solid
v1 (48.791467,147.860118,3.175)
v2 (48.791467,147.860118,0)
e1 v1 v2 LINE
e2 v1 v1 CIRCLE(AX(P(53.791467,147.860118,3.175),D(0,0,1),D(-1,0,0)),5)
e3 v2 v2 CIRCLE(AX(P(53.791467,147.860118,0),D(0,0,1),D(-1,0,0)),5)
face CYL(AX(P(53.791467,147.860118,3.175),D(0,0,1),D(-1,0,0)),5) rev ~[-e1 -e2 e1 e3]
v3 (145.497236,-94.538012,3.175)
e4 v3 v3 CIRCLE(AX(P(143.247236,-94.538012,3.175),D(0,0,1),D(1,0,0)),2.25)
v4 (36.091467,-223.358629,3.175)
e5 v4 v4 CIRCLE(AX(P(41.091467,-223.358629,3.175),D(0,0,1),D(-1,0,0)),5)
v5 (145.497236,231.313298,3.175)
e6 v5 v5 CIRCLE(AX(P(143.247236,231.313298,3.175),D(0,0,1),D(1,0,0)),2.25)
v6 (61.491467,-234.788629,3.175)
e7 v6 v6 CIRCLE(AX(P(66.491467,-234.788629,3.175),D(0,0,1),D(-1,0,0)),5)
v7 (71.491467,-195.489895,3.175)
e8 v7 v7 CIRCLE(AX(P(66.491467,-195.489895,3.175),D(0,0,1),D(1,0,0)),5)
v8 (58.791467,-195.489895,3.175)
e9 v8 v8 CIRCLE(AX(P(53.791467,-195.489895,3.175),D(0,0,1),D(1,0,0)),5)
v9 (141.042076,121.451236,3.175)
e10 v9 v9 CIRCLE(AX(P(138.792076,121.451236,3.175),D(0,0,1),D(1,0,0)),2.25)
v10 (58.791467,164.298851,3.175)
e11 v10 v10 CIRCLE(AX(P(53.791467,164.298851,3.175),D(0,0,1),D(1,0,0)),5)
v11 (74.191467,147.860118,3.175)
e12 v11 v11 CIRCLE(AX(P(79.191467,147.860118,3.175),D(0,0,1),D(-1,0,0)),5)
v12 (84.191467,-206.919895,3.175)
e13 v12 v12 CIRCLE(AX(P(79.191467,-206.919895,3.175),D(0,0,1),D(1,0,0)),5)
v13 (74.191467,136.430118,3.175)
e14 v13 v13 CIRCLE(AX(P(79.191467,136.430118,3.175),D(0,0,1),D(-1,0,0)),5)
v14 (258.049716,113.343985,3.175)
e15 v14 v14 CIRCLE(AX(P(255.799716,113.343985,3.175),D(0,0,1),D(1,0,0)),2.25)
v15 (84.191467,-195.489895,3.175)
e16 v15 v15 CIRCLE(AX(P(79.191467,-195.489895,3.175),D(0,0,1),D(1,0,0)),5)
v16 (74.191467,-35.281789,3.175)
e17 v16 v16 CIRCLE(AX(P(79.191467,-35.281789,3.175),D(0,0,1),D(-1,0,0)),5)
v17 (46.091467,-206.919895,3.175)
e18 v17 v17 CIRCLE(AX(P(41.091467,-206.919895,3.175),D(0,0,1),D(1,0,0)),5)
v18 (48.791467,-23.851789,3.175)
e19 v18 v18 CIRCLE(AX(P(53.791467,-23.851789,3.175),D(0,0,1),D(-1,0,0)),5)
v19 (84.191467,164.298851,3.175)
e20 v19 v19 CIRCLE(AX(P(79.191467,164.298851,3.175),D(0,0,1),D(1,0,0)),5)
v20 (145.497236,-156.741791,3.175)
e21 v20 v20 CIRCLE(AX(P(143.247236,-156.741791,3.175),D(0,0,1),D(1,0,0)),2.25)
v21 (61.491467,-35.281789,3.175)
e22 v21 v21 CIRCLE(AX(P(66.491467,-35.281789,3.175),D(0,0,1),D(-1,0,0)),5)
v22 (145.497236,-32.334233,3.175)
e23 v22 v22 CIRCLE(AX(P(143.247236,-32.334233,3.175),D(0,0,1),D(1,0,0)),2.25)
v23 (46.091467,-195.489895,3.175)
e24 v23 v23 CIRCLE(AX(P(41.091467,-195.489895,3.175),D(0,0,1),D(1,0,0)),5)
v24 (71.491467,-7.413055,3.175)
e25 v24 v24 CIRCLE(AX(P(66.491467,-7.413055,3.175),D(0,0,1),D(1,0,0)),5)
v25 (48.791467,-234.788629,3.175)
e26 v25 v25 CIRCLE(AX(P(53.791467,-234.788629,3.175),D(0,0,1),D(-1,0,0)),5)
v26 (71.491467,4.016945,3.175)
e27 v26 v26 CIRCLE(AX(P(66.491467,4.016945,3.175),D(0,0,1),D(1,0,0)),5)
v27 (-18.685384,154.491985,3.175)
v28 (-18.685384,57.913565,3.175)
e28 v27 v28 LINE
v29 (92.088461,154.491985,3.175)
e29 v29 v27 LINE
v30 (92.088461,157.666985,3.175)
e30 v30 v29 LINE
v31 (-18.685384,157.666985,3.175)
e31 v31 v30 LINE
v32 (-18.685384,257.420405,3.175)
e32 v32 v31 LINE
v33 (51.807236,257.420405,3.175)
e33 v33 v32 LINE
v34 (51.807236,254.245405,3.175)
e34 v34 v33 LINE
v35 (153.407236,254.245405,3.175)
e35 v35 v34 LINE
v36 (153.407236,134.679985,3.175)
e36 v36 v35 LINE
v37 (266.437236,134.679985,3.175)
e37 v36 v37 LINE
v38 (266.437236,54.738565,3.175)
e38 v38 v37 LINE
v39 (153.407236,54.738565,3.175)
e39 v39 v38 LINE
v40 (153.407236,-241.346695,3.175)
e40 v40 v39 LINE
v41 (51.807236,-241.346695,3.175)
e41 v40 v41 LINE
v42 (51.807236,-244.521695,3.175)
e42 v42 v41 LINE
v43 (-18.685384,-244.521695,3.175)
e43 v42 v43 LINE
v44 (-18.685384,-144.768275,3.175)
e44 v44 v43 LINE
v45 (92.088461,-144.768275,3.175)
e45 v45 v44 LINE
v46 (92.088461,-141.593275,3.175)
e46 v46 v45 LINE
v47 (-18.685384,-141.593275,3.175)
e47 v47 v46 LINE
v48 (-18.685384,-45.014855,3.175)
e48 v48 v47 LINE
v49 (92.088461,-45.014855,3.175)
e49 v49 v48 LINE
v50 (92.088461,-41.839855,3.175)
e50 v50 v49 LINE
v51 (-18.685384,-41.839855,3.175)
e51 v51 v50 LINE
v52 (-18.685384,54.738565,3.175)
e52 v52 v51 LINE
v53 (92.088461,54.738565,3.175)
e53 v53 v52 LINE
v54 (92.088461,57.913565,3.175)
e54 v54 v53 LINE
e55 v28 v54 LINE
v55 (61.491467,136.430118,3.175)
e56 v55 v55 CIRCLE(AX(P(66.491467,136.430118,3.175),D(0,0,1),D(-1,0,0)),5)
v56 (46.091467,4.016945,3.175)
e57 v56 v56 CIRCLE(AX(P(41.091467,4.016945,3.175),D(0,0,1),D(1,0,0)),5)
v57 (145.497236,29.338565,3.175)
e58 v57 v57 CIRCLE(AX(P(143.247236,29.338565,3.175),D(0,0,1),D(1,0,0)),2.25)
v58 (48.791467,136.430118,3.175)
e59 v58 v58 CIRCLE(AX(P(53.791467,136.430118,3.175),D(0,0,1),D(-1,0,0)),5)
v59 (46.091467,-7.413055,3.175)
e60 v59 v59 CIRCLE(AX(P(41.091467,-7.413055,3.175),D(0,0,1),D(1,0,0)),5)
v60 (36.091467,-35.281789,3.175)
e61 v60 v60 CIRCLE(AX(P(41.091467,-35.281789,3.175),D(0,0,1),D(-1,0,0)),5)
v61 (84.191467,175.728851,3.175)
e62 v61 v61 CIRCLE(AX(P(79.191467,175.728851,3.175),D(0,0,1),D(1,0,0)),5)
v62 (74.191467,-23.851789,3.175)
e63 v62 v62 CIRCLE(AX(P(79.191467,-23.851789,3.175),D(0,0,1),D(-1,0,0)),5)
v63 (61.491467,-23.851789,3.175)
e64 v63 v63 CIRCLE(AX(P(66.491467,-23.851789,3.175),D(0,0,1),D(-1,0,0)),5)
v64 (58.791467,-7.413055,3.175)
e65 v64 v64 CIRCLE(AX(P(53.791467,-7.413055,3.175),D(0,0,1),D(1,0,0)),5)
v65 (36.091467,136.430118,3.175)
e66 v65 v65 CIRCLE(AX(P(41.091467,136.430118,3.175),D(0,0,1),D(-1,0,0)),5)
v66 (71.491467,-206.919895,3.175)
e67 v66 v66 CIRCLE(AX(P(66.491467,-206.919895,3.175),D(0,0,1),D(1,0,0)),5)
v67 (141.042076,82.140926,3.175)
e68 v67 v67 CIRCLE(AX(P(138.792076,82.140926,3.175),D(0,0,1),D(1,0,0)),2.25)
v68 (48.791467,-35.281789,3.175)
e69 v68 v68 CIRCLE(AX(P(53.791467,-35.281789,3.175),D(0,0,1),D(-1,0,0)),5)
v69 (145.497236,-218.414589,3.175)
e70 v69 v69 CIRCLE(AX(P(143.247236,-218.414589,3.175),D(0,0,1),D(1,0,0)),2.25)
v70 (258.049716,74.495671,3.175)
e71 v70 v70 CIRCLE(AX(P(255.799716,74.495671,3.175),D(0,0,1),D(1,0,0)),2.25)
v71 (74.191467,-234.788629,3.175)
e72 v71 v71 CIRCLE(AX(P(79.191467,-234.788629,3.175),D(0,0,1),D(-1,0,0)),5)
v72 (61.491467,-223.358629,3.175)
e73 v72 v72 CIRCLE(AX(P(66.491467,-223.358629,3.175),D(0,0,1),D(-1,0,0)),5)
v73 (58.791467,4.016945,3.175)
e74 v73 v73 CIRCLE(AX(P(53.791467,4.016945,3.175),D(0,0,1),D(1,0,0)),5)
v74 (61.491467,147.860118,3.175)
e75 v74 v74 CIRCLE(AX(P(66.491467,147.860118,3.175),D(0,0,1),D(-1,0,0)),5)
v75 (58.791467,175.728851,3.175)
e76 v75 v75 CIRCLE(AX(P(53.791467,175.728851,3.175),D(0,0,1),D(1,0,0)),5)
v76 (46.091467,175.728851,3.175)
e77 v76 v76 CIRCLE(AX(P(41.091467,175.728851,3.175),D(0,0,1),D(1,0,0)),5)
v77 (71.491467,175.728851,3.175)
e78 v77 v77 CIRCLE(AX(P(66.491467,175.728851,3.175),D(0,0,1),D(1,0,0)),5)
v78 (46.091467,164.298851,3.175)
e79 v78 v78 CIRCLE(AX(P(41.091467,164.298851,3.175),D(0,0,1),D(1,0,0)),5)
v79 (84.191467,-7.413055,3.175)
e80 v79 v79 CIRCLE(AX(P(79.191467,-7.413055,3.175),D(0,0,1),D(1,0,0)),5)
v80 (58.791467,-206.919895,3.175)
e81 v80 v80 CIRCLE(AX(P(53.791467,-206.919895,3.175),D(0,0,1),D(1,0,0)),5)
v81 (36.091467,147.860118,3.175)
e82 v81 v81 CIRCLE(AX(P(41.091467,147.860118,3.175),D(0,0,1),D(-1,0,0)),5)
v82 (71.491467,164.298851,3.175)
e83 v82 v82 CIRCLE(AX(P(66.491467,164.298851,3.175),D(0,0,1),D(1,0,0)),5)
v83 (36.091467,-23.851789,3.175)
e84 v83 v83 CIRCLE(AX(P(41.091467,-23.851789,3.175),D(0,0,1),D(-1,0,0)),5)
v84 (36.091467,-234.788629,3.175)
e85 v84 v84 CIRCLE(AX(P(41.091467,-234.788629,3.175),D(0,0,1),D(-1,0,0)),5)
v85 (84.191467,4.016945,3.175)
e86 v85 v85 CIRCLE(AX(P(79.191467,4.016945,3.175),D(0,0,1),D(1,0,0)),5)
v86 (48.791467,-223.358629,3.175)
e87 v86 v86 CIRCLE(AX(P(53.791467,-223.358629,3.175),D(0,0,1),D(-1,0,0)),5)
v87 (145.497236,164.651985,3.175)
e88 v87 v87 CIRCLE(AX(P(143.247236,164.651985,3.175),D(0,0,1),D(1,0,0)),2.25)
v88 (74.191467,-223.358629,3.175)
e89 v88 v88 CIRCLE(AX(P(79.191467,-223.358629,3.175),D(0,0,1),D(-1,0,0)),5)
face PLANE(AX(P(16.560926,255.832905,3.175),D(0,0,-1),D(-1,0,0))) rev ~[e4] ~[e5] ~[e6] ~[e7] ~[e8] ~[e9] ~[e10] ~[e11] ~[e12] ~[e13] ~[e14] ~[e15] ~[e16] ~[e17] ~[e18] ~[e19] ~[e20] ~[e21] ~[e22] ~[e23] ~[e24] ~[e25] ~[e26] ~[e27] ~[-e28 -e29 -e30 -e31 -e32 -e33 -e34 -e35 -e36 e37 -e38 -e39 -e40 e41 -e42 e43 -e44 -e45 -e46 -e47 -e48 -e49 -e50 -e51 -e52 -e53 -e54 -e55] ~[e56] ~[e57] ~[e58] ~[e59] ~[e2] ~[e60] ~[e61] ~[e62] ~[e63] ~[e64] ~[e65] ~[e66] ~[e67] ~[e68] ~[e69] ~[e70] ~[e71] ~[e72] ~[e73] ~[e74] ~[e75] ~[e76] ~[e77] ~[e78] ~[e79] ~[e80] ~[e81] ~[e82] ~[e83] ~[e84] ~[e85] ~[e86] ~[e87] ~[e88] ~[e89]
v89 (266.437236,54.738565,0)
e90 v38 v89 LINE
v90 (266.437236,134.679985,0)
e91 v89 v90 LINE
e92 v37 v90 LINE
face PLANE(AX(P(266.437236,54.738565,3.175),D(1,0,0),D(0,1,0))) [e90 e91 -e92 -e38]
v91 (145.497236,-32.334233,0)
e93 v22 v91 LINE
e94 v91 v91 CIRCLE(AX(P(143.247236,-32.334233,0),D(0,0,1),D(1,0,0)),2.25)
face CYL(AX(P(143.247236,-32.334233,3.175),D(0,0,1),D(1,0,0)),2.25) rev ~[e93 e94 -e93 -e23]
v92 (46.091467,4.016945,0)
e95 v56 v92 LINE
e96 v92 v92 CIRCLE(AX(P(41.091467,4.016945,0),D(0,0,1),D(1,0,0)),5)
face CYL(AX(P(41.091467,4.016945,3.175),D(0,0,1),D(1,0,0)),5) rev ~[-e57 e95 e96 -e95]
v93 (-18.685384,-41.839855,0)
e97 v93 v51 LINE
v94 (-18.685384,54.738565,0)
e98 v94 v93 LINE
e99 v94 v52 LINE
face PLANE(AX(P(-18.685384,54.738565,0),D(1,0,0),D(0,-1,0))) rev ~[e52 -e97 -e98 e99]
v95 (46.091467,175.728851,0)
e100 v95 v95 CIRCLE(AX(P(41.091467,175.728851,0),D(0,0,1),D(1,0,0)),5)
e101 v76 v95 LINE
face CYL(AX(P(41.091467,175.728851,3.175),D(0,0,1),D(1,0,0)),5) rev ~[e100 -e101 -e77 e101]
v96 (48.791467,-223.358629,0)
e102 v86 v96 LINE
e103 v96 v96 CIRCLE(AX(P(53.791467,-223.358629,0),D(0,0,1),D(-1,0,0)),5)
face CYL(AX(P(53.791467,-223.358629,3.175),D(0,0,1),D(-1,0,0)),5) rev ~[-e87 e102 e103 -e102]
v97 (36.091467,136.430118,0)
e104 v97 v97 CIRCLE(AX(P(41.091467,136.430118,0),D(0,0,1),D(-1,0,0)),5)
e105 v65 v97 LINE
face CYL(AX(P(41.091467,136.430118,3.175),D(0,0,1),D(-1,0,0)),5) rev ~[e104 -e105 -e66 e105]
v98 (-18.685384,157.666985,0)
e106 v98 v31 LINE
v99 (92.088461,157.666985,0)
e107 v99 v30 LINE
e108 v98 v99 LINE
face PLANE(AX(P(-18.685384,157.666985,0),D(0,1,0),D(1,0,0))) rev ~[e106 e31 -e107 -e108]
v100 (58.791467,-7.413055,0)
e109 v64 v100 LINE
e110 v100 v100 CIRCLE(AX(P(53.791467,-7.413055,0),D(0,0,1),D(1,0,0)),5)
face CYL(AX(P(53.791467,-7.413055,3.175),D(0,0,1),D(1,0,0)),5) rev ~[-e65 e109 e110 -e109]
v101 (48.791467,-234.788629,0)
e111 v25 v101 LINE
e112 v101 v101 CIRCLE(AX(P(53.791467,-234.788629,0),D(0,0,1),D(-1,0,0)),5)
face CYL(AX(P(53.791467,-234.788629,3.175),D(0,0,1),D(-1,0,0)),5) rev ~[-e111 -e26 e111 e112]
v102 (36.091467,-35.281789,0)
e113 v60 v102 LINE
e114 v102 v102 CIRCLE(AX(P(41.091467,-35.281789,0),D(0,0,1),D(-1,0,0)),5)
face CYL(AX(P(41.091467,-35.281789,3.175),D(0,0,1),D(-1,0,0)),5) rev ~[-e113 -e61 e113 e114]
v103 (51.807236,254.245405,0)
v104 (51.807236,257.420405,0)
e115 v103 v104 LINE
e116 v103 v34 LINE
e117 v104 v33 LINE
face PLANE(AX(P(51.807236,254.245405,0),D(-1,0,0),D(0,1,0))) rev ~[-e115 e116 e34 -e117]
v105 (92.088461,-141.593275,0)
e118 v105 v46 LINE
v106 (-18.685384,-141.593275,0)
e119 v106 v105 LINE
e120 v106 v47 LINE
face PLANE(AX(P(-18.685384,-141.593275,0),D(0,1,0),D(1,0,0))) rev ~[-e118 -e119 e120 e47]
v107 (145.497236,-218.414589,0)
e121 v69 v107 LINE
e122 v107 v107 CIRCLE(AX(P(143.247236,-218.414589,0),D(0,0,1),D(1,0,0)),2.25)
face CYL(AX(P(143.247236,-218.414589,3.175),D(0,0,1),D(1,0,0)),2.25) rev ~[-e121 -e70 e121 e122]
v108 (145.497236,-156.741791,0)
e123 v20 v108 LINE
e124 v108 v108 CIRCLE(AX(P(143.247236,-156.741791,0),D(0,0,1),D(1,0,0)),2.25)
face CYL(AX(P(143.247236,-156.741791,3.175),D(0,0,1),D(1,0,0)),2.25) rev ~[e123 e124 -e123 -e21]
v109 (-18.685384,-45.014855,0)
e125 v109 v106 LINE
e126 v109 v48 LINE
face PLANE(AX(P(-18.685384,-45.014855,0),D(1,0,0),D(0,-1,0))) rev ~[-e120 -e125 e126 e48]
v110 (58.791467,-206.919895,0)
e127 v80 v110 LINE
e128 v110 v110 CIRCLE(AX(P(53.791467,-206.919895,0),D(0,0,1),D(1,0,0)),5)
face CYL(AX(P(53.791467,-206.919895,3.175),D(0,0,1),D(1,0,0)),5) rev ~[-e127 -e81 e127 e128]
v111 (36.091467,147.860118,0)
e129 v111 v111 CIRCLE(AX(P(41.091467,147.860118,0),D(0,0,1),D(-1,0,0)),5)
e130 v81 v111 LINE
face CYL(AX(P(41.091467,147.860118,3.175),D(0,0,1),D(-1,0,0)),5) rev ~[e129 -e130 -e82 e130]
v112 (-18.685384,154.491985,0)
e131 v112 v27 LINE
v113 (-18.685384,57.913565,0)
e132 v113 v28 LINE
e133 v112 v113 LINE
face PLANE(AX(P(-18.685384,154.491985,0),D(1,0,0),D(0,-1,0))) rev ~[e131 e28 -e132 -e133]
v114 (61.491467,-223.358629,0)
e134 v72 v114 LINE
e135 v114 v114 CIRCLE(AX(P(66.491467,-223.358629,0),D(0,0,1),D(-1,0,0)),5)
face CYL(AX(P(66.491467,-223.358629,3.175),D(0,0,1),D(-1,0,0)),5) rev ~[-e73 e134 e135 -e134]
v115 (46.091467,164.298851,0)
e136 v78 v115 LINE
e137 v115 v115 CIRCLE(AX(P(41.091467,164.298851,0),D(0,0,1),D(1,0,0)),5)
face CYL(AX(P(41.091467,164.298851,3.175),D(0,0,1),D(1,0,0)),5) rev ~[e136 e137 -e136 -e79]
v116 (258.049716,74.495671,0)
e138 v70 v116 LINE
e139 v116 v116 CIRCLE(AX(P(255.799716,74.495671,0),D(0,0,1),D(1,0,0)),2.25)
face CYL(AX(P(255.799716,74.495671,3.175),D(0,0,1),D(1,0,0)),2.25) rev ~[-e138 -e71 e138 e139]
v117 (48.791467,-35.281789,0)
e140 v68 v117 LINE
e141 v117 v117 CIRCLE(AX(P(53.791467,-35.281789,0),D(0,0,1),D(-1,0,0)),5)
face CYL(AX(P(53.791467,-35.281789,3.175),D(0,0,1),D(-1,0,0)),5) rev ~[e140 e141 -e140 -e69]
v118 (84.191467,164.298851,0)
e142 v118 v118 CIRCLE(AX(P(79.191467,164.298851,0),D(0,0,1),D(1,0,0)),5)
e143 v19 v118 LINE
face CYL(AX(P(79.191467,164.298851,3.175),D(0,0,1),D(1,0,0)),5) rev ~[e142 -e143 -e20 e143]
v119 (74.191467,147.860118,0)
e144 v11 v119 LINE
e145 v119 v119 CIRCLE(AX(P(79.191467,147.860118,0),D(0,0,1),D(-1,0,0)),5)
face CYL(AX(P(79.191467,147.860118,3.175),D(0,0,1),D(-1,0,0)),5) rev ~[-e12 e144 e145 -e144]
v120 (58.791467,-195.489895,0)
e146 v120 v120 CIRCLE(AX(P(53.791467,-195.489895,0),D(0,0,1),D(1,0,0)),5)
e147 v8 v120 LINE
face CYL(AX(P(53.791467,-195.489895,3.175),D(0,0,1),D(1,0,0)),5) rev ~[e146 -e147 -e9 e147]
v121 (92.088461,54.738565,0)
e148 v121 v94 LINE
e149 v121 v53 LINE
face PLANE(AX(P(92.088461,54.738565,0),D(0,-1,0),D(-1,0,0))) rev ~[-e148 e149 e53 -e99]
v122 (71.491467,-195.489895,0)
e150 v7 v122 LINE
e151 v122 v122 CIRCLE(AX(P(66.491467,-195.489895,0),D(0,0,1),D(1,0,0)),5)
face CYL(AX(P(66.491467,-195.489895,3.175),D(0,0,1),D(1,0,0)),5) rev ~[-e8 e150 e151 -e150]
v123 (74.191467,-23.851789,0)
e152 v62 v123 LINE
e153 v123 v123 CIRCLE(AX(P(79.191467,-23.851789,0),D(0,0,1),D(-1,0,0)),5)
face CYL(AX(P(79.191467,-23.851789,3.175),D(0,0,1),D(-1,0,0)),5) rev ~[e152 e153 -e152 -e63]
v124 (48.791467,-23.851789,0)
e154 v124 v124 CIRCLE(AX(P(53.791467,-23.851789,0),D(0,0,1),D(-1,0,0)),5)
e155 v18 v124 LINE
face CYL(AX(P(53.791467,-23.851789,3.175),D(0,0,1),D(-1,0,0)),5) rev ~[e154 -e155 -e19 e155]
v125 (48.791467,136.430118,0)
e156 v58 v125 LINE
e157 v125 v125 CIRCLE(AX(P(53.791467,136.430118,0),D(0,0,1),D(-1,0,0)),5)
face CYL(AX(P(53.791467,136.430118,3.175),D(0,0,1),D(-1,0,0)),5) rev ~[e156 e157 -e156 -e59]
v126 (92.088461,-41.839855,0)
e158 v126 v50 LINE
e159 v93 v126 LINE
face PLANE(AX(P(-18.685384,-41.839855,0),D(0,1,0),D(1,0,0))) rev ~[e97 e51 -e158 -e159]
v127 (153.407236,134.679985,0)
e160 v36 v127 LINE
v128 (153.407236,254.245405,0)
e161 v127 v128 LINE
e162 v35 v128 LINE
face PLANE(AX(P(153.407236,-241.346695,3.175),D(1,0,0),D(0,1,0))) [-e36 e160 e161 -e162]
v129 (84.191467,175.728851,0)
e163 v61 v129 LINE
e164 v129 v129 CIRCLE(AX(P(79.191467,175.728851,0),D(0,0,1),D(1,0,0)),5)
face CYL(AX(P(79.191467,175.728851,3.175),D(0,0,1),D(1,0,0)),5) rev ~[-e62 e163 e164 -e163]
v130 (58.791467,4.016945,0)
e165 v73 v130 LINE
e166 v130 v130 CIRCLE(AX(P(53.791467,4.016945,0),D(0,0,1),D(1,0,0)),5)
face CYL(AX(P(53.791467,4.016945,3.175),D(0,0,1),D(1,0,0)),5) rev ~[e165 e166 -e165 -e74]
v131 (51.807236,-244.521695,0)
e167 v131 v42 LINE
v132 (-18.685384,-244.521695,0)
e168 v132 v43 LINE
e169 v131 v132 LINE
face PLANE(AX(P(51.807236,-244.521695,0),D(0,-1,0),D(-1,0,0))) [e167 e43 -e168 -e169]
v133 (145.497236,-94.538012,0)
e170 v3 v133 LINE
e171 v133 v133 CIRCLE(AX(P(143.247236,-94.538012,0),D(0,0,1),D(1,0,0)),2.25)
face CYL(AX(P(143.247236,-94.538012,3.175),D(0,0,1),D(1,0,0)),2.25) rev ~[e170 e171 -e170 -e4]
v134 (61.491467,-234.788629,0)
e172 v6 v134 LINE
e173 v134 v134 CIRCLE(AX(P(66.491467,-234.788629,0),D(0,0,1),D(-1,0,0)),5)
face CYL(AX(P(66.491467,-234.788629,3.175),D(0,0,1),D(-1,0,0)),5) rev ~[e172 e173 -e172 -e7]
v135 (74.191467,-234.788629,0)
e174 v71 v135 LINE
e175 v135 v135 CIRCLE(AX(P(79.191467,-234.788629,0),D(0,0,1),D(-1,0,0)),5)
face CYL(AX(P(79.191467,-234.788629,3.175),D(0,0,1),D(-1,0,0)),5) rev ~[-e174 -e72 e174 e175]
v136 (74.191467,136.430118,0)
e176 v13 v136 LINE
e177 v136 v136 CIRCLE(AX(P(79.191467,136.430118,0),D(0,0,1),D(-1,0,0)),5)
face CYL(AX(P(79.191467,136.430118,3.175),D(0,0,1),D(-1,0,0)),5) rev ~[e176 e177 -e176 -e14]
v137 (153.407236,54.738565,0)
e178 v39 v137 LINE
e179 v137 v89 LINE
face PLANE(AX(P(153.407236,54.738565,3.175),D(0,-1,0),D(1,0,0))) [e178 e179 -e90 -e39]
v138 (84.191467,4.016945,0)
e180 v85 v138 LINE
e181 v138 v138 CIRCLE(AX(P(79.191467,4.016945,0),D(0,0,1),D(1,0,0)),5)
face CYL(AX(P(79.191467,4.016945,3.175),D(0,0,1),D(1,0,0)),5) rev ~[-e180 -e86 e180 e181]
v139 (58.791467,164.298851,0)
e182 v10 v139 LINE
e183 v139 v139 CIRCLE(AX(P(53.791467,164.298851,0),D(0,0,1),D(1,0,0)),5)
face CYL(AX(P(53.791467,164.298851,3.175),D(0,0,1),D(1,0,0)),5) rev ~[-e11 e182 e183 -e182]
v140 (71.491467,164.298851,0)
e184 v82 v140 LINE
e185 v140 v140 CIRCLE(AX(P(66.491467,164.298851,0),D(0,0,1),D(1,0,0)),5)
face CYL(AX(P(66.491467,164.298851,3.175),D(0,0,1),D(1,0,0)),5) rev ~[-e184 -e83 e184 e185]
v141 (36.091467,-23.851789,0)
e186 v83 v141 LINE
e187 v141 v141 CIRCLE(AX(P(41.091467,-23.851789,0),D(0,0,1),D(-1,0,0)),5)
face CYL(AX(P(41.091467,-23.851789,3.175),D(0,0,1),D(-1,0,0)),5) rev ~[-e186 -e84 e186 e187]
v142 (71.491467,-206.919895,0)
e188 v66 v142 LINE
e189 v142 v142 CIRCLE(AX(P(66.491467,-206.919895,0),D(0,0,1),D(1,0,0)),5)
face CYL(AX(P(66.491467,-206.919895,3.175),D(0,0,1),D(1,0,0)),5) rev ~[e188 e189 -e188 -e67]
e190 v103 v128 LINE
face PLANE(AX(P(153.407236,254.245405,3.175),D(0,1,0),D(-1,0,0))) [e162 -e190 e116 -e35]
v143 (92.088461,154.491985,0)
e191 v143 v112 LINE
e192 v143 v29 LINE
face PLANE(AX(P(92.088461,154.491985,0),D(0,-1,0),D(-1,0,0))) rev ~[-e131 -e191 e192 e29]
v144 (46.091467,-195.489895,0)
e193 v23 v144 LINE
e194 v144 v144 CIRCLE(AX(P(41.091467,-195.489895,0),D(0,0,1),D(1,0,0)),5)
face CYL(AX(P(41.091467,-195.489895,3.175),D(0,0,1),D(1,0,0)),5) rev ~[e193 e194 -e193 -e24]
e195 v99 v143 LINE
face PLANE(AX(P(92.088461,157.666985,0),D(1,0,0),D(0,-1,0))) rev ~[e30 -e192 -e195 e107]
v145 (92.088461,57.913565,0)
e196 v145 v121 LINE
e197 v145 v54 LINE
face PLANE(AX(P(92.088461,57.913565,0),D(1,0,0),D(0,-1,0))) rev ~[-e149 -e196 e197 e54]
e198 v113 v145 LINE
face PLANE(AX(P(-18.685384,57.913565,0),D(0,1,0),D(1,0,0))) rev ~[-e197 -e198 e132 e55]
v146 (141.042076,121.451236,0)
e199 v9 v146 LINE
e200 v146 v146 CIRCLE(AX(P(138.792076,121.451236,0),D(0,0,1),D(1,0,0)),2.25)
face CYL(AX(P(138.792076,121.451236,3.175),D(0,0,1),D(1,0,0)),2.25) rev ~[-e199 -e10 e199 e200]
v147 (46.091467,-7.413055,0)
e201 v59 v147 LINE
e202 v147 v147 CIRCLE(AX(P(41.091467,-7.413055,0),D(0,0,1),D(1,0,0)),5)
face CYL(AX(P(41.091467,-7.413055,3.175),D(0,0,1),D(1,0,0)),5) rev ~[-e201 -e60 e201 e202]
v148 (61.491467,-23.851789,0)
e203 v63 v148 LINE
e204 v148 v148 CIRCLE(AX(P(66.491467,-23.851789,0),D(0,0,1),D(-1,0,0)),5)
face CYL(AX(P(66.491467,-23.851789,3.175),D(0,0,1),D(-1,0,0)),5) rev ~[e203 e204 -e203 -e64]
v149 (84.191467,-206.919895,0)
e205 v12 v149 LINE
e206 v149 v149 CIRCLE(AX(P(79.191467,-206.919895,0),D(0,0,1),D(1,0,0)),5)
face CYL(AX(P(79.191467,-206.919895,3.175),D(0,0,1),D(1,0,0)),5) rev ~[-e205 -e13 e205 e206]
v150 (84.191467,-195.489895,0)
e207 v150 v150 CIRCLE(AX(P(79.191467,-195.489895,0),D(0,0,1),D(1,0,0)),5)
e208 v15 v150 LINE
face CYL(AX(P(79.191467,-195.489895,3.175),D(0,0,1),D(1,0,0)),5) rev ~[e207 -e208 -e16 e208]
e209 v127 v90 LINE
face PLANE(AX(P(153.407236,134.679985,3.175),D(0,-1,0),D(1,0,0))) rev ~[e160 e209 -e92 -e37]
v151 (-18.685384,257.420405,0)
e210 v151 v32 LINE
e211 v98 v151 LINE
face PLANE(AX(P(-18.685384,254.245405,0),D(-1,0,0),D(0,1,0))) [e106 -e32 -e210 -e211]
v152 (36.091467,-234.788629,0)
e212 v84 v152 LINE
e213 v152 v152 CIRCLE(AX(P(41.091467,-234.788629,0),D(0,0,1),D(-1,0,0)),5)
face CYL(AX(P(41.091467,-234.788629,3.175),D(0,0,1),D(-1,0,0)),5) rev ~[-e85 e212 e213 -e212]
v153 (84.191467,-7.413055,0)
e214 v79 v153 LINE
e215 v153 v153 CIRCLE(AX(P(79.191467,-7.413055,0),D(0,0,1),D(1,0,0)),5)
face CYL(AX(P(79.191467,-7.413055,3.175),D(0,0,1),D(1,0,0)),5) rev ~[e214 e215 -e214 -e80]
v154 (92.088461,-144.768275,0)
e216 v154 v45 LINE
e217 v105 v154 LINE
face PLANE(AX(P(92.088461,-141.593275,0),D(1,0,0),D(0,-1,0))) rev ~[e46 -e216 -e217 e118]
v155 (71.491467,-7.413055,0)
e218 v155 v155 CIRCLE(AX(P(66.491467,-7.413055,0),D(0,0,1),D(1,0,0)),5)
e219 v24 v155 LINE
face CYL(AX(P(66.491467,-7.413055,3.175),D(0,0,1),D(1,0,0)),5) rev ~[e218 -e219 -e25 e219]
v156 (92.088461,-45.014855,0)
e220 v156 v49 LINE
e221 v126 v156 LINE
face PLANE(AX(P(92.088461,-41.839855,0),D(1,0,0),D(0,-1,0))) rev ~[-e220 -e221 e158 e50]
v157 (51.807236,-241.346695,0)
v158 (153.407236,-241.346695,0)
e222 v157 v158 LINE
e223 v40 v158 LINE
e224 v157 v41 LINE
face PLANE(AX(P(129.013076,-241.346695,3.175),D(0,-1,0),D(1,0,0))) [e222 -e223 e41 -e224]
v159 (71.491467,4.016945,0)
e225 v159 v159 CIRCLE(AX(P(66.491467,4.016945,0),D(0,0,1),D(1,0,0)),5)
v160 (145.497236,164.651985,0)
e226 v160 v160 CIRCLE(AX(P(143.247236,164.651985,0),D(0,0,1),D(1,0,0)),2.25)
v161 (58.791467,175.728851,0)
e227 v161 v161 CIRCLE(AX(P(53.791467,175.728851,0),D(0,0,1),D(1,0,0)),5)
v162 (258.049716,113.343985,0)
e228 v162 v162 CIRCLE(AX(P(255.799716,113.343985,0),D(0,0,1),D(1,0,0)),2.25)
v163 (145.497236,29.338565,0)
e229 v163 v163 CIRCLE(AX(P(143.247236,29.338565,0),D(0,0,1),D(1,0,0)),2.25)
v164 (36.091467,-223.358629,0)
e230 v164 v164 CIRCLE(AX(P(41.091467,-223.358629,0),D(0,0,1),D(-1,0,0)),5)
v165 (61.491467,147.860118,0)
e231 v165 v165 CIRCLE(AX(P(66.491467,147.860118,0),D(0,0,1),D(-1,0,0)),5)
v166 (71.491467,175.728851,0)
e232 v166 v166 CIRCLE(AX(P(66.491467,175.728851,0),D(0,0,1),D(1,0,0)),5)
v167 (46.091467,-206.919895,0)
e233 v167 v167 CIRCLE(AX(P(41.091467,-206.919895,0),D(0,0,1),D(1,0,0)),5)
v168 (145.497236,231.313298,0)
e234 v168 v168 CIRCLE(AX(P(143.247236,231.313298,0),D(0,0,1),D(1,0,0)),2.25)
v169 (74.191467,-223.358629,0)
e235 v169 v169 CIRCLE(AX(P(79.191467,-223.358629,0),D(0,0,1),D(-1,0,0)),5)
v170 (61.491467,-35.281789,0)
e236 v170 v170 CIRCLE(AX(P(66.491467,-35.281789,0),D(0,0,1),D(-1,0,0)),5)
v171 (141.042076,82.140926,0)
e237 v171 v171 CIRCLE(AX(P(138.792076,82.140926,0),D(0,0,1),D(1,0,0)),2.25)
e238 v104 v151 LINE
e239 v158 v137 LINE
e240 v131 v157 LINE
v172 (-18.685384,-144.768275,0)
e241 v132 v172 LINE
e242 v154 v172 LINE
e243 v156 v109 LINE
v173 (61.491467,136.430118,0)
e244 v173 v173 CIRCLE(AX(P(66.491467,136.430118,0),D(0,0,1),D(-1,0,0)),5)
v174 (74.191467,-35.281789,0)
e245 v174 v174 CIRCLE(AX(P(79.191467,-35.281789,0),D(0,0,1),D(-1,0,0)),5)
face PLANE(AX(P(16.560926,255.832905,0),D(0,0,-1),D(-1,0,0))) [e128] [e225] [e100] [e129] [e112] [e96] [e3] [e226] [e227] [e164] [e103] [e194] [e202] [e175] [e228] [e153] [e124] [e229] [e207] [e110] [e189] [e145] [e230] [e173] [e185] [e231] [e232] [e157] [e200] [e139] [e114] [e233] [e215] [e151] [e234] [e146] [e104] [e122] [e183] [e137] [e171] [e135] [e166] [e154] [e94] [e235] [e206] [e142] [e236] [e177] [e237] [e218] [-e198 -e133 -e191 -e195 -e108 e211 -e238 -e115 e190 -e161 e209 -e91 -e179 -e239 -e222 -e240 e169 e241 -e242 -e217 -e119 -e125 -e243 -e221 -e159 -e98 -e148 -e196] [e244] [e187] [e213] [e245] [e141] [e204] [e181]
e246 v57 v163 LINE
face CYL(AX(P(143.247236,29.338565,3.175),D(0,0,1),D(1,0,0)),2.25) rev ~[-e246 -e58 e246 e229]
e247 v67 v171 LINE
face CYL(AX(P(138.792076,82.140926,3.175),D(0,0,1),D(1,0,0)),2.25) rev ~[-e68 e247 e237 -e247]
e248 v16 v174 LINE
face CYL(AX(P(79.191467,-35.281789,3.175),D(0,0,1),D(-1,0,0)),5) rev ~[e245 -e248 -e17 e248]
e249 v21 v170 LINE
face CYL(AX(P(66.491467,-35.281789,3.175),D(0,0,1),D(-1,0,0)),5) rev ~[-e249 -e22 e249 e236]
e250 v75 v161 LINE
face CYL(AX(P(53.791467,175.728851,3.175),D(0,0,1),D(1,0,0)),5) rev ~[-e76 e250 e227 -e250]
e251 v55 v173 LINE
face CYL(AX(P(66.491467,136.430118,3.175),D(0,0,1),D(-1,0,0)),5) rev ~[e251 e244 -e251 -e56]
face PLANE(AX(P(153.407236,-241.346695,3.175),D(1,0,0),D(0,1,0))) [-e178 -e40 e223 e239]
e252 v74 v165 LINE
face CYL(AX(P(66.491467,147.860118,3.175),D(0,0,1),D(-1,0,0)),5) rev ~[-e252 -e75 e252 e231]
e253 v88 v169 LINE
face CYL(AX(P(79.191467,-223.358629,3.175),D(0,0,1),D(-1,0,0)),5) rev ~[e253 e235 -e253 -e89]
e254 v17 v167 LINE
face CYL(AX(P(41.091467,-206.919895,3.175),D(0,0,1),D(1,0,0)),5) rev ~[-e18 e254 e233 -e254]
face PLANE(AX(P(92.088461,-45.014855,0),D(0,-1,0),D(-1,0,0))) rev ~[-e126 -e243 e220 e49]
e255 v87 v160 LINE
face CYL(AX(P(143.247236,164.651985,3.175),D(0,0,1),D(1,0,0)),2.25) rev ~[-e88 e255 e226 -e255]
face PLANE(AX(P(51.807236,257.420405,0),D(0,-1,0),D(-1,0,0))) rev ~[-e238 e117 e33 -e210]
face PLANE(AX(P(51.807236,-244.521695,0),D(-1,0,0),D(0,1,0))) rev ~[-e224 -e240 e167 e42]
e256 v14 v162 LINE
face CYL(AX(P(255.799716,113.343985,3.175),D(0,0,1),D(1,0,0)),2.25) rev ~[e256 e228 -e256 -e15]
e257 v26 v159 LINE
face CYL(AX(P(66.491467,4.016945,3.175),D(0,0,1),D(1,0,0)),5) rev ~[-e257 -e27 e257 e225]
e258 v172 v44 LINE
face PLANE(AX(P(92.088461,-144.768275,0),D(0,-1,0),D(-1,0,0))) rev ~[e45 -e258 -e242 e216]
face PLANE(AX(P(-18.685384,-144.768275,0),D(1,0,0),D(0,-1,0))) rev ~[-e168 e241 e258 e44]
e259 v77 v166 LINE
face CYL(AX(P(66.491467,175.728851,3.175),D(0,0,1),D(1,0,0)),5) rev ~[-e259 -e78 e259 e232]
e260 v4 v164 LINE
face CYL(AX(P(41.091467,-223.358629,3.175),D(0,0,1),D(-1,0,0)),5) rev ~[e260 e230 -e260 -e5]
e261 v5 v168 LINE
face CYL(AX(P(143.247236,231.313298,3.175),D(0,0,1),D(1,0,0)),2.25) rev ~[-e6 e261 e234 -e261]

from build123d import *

# Parameters (mm, degrees)
BOSS_EXTRUDE2_DEPTH = 3.175
BOSS_EXTRUDE3_DEPTH = 3.175
SKETCH11_W          = 113.03
SKETCH11_H          = 79.94142
BOSS_EXTRUDE8_DEPTH = 3.175
SKETCH12_W          = 70.49262
SKETCH12_H          = 3.175
BOSS_EXTRUDE9_DEPTH = 3.175
SKETCH15_R          = 2.25
CUT_EXTRUDE1_DEPTH  = 371.49176257
SKETCH16_R          = 2.250000072
SKETCH16_R_2        = 2.25
CUT_EXTRUDE2_DEPTH  = 371.49176257
SKETCH17_R          = 5
CUT_EXTRUDE3_DEPTH  = 371.49176257


with BuildPart() as part:
    # Sketch1 → Boss-Extrude2 (new body)
    with BuildSketch(Plane.XY):
        Polygon((129.013076168, 254.245404572), (-18.685383832, 254.245404572), (-18.685383832, 157.666984572), (92.088461168, 157.666984572), (92.088461168, 154.491984572), (-18.685383832, 154.491984572), (-18.685383832, 57.913564572), (92.088461168, 57.913564572), (92.088461168, 54.738564572), (-18.685383832, 54.738564572), (-18.685383832, -41.839855428), (92.088461168, -41.839855428), (92.088461168, -45.014855428), (-18.685383832, -45.014855428), (-18.685383832, -141.593275428), (92.088461168, -141.593275428), (92.088461168, -144.768275428), (-18.685383832, -144.768275428), (-18.685383832, -241.346695428), (129.013076168, -241.346695428), align=None)
    extrude(amount=BOSS_EXTRUDE2_DEPTH)

    # Sketch4 → Boss-Extrude3 (add, through all)
    with BuildSketch(Plane.XY.offset(3.175)):
        Polygon((129.013076168, 254.245404572), (129.013076168, -241.346695428), (153.407236168, -241.346695428), (153.407236168, -227.262720585), (153.407236168, 240.16142973), (153.407236168, 254.245404572), align=None)
    extrude(amount=-BOSS_EXTRUDE3_DEPTH)

    # Sketch11 → Boss-Extrude8 (add, through all)
    with BuildSketch(Plane.XY.offset(3.175)):
        with Locations((209.922236168, 94.709274572)):
            Rectangle(SKETCH11_W, SKETCH11_H)
    extrude(amount=-BOSS_EXTRUDE8_DEPTH)

    # Sketch12 → Boss-Extrude9 (add, through all)
    with BuildSketch(Plane(origin=(0, 0, 0), x_dir=(-1, 0, 0), z_dir=(0, 0, -1))):
        with Locations((-16.560926168, 255.832904572)):
            Rectangle(SKETCH12_W, SKETCH12_H)
        with Locations((-16.560926168, -242.934195428)):
            Rectangle(SKETCH12_W, SKETCH12_H)
    extrude(amount=-BOSS_EXTRUDE9_DEPTH)

    # Sketch15 → Cut-Extrude1 (cut, through all)
    with BuildSketch(Plane.XY.offset(3.175)):
        with Locations((143.247236168, 231.313297791)):
            Circle(SKETCH15_R)
        with Locations((143.247236168, 164.651984572)):
            Circle(SKETCH15_R)
        with Locations((255.799716168, 113.343984572)):
            Circle(SKETCH15_R)
        with Locations((255.799716168, 74.495671354)):
            Circle(SKETCH15_R)
        with Locations((143.247236168, 29.338564572)):
            Circle(SKETCH15_R)
        with Locations((143.247236168, -32.334232694)):
            Circle(SKETCH15_R)
        with Locations((143.247236168, -94.538012037)):
            Circle(SKETCH15_R)
        with Locations((143.247236168, -156.74179138)):
            Circle(SKETCH15_R)
        with Locations((143.247236168, -218.414588646)):
            Circle(SKETCH15_R)
    extrude(amount=-CUT_EXTRUDE1_DEPTH, mode=Mode.SUBTRACT)

    # Sketch16 → Cut-Extrude2 (cut, through all)
    with BuildSketch(Plane.XY.offset(3.175)):
        with Locations((138.792076168, 121.451235566)):
            Circle(SKETCH16_R)
        with Locations((138.792076168, 82.140925566)):
            Circle(SKETCH16_R_2)
    extrude(amount=-CUT_EXTRUDE2_DEPTH, mode=Mode.SUBTRACT)

    # Sketch17 → Cut-Extrude3 (cut, through all)
    with BuildSketch(Plane.XY.offset(3.175)):
        with Locations((79.191467271, 4.016944877)):
            Circle(SKETCH17_R)
        with Locations((66.491467271, 4.016944877)):
            Circle(SKETCH17_R)
        with Locations((53.791467271, 4.016944877)):
            Circle(SKETCH17_R)
        with Locations((41.091467271, 4.016944877)):
            Circle(SKETCH17_R)
        with Locations((66.491467271, -7.413055123)):
            Circle(SKETCH17_R)
        with Locations((53.791467271, -7.413055123)):
            Circle(SKETCH17_R)
        with Locations((41.091467271, -7.413055123)):
            Circle(SKETCH17_R)
        with Locations((79.191467271, -7.413055123)):
            Circle(SKETCH17_R)
        with Locations(Location((41.091467271, -35.281788831, 0), (0, 0, 180))):
            Circle(SKETCH17_R)
        with Locations(Location((41.091467271, -23.851788831, 0), (0, 0, 180))):
            Circle(SKETCH17_R)
        with Locations(Location((53.791467271, -35.281788831, 0), (0, 0, 180))):
            Circle(SKETCH17_R)
        with Locations(Location((53.791467271, -23.851788831, 0), (0, 0, 180))):
            Circle(SKETCH17_R)
        with Locations(Location((66.491467271, -35.281788831, 0), (0, 0, 180))):
            Circle(SKETCH17_R)
        with Locations(Location((66.491467271, -23.851788831, 0), (0, 0, 180))):
            Circle(SKETCH17_R)
        with Locations(Location((79.191467271, -23.851788831, 0), (0, 0, 180))):
            Circle(SKETCH17_R)
        with Locations(Location((79.191467271, -35.281788831, 0), (0, 0, 180))):
            Circle(SKETCH17_R)
        with Locations((79.191467271, -195.489895123)):
            Circle(SKETCH17_R)
        with Locations((66.491467271, -195.489895123)):
            Circle(SKETCH17_R)
        with Locations((53.791467271, -195.489895123)):
            Circle(SKETCH17_R)
        with Locations((41.091467271, -195.489895123)):
            Circle(SKETCH17_R)
        with Locations((66.491467271, -206.919895123)):
            Circle(SKETCH17_R)
        with Locations((53.791467271, -206.919895123)):
            Circle(SKETCH17_R)
        with Locations((41.091467271, -206.919895123)):
            Circle(SKETCH17_R)
        with Locations((79.191467271, -206.919895123)):
            Circle(SKETCH17_R)
        with Locations(Location((41.091467271, -234.788628831, 0), (0, 0, 180))):
            Circle(SKETCH17_R)
        with Locations(Location((41.091467271, -223.358628831, 0), (0, 0, 180))):
            Circle(SKETCH17_R)
        with Locations(Location((53.791467271, -234.788628831, 0), (0, 0, 180))):
            Circle(SKETCH17_R)
        with Locations(Location((53.791467271, -223.358628831, 0), (0, 0, 180))):
            Circle(SKETCH17_R)
        with Locations(Location((66.491467271, -234.788628831, 0), (0, 0, 180))):
            Circle(SKETCH17_R)
        with Locations(Location((66.491467271, -223.358628831, 0), (0, 0, 180))):
            Circle(SKETCH17_R)
        with Locations(Location((79.191467271, -223.358628831, 0), (0, 0, 180))):
            Circle(SKETCH17_R)
        with Locations(Location((79.191467271, -234.788628831, 0), (0, 0, 180))):
            Circle(SKETCH17_R)
        with Locations((79.191467271, 175.728851427)):
            Circle(SKETCH17_R)
        with Locations((66.491467271, 175.728851427)):
            Circle(SKETCH17_R)
        with Locations((53.791467271, 175.728851427)):
            Circle(SKETCH17_R)
        with Locations((41.091467271, 175.728851427)):
            Circle(SKETCH17_R)
        with Locations((66.491467271, 164.298851427)):
            Circle(SKETCH17_R)
        with Locations((53.791467271, 164.298851427)):
            Circle(SKETCH17_R)
        with Locations((41.091467271, 164.298851427)):
            Circle(SKETCH17_R)
        with Locations((79.191467271, 164.298851427)):
            Circle(SKETCH17_R)
        with Locations(Location((41.091467271, 136.430117718, 0), (0, 0, 180))):
            Circle(SKETCH17_R)
        with Locations(Location((41.091467271, 147.860117718, 0), (0, 0, 180))):
            Circle(SKETCH17_R)
        with Locations(Location((53.791467271, 136.430117718, 0), (0, 0, 180))):
            Circle(SKETCH17_R)
        with Locations(Location((53.791467271, 147.860117718, 0), (0, 0, 180))):
            Circle(SKETCH17_R)
        with Locations(Location((66.491467271, 136.430117718, 0), (0, 0, 180))):
            Circle(SKETCH17_R)
        with Locations(Location((66.491467271, 147.860117718, 0), (0, 0, 180))):
            Circle(SKETCH17_R)
        with Locations(Location((79.191467271, 147.860117718, 0), (0, 0, 180))):
            Circle(SKETCH17_R)
        with Locations(Location((79.191467271, 136.430117718, 0), (0, 0, 180))):
            Circle(SKETCH17_R)
    extrude(amount=-CUT_EXTRUDE3_DEPTH, mode=Mode.SUBTRACT)


solid = part.part
